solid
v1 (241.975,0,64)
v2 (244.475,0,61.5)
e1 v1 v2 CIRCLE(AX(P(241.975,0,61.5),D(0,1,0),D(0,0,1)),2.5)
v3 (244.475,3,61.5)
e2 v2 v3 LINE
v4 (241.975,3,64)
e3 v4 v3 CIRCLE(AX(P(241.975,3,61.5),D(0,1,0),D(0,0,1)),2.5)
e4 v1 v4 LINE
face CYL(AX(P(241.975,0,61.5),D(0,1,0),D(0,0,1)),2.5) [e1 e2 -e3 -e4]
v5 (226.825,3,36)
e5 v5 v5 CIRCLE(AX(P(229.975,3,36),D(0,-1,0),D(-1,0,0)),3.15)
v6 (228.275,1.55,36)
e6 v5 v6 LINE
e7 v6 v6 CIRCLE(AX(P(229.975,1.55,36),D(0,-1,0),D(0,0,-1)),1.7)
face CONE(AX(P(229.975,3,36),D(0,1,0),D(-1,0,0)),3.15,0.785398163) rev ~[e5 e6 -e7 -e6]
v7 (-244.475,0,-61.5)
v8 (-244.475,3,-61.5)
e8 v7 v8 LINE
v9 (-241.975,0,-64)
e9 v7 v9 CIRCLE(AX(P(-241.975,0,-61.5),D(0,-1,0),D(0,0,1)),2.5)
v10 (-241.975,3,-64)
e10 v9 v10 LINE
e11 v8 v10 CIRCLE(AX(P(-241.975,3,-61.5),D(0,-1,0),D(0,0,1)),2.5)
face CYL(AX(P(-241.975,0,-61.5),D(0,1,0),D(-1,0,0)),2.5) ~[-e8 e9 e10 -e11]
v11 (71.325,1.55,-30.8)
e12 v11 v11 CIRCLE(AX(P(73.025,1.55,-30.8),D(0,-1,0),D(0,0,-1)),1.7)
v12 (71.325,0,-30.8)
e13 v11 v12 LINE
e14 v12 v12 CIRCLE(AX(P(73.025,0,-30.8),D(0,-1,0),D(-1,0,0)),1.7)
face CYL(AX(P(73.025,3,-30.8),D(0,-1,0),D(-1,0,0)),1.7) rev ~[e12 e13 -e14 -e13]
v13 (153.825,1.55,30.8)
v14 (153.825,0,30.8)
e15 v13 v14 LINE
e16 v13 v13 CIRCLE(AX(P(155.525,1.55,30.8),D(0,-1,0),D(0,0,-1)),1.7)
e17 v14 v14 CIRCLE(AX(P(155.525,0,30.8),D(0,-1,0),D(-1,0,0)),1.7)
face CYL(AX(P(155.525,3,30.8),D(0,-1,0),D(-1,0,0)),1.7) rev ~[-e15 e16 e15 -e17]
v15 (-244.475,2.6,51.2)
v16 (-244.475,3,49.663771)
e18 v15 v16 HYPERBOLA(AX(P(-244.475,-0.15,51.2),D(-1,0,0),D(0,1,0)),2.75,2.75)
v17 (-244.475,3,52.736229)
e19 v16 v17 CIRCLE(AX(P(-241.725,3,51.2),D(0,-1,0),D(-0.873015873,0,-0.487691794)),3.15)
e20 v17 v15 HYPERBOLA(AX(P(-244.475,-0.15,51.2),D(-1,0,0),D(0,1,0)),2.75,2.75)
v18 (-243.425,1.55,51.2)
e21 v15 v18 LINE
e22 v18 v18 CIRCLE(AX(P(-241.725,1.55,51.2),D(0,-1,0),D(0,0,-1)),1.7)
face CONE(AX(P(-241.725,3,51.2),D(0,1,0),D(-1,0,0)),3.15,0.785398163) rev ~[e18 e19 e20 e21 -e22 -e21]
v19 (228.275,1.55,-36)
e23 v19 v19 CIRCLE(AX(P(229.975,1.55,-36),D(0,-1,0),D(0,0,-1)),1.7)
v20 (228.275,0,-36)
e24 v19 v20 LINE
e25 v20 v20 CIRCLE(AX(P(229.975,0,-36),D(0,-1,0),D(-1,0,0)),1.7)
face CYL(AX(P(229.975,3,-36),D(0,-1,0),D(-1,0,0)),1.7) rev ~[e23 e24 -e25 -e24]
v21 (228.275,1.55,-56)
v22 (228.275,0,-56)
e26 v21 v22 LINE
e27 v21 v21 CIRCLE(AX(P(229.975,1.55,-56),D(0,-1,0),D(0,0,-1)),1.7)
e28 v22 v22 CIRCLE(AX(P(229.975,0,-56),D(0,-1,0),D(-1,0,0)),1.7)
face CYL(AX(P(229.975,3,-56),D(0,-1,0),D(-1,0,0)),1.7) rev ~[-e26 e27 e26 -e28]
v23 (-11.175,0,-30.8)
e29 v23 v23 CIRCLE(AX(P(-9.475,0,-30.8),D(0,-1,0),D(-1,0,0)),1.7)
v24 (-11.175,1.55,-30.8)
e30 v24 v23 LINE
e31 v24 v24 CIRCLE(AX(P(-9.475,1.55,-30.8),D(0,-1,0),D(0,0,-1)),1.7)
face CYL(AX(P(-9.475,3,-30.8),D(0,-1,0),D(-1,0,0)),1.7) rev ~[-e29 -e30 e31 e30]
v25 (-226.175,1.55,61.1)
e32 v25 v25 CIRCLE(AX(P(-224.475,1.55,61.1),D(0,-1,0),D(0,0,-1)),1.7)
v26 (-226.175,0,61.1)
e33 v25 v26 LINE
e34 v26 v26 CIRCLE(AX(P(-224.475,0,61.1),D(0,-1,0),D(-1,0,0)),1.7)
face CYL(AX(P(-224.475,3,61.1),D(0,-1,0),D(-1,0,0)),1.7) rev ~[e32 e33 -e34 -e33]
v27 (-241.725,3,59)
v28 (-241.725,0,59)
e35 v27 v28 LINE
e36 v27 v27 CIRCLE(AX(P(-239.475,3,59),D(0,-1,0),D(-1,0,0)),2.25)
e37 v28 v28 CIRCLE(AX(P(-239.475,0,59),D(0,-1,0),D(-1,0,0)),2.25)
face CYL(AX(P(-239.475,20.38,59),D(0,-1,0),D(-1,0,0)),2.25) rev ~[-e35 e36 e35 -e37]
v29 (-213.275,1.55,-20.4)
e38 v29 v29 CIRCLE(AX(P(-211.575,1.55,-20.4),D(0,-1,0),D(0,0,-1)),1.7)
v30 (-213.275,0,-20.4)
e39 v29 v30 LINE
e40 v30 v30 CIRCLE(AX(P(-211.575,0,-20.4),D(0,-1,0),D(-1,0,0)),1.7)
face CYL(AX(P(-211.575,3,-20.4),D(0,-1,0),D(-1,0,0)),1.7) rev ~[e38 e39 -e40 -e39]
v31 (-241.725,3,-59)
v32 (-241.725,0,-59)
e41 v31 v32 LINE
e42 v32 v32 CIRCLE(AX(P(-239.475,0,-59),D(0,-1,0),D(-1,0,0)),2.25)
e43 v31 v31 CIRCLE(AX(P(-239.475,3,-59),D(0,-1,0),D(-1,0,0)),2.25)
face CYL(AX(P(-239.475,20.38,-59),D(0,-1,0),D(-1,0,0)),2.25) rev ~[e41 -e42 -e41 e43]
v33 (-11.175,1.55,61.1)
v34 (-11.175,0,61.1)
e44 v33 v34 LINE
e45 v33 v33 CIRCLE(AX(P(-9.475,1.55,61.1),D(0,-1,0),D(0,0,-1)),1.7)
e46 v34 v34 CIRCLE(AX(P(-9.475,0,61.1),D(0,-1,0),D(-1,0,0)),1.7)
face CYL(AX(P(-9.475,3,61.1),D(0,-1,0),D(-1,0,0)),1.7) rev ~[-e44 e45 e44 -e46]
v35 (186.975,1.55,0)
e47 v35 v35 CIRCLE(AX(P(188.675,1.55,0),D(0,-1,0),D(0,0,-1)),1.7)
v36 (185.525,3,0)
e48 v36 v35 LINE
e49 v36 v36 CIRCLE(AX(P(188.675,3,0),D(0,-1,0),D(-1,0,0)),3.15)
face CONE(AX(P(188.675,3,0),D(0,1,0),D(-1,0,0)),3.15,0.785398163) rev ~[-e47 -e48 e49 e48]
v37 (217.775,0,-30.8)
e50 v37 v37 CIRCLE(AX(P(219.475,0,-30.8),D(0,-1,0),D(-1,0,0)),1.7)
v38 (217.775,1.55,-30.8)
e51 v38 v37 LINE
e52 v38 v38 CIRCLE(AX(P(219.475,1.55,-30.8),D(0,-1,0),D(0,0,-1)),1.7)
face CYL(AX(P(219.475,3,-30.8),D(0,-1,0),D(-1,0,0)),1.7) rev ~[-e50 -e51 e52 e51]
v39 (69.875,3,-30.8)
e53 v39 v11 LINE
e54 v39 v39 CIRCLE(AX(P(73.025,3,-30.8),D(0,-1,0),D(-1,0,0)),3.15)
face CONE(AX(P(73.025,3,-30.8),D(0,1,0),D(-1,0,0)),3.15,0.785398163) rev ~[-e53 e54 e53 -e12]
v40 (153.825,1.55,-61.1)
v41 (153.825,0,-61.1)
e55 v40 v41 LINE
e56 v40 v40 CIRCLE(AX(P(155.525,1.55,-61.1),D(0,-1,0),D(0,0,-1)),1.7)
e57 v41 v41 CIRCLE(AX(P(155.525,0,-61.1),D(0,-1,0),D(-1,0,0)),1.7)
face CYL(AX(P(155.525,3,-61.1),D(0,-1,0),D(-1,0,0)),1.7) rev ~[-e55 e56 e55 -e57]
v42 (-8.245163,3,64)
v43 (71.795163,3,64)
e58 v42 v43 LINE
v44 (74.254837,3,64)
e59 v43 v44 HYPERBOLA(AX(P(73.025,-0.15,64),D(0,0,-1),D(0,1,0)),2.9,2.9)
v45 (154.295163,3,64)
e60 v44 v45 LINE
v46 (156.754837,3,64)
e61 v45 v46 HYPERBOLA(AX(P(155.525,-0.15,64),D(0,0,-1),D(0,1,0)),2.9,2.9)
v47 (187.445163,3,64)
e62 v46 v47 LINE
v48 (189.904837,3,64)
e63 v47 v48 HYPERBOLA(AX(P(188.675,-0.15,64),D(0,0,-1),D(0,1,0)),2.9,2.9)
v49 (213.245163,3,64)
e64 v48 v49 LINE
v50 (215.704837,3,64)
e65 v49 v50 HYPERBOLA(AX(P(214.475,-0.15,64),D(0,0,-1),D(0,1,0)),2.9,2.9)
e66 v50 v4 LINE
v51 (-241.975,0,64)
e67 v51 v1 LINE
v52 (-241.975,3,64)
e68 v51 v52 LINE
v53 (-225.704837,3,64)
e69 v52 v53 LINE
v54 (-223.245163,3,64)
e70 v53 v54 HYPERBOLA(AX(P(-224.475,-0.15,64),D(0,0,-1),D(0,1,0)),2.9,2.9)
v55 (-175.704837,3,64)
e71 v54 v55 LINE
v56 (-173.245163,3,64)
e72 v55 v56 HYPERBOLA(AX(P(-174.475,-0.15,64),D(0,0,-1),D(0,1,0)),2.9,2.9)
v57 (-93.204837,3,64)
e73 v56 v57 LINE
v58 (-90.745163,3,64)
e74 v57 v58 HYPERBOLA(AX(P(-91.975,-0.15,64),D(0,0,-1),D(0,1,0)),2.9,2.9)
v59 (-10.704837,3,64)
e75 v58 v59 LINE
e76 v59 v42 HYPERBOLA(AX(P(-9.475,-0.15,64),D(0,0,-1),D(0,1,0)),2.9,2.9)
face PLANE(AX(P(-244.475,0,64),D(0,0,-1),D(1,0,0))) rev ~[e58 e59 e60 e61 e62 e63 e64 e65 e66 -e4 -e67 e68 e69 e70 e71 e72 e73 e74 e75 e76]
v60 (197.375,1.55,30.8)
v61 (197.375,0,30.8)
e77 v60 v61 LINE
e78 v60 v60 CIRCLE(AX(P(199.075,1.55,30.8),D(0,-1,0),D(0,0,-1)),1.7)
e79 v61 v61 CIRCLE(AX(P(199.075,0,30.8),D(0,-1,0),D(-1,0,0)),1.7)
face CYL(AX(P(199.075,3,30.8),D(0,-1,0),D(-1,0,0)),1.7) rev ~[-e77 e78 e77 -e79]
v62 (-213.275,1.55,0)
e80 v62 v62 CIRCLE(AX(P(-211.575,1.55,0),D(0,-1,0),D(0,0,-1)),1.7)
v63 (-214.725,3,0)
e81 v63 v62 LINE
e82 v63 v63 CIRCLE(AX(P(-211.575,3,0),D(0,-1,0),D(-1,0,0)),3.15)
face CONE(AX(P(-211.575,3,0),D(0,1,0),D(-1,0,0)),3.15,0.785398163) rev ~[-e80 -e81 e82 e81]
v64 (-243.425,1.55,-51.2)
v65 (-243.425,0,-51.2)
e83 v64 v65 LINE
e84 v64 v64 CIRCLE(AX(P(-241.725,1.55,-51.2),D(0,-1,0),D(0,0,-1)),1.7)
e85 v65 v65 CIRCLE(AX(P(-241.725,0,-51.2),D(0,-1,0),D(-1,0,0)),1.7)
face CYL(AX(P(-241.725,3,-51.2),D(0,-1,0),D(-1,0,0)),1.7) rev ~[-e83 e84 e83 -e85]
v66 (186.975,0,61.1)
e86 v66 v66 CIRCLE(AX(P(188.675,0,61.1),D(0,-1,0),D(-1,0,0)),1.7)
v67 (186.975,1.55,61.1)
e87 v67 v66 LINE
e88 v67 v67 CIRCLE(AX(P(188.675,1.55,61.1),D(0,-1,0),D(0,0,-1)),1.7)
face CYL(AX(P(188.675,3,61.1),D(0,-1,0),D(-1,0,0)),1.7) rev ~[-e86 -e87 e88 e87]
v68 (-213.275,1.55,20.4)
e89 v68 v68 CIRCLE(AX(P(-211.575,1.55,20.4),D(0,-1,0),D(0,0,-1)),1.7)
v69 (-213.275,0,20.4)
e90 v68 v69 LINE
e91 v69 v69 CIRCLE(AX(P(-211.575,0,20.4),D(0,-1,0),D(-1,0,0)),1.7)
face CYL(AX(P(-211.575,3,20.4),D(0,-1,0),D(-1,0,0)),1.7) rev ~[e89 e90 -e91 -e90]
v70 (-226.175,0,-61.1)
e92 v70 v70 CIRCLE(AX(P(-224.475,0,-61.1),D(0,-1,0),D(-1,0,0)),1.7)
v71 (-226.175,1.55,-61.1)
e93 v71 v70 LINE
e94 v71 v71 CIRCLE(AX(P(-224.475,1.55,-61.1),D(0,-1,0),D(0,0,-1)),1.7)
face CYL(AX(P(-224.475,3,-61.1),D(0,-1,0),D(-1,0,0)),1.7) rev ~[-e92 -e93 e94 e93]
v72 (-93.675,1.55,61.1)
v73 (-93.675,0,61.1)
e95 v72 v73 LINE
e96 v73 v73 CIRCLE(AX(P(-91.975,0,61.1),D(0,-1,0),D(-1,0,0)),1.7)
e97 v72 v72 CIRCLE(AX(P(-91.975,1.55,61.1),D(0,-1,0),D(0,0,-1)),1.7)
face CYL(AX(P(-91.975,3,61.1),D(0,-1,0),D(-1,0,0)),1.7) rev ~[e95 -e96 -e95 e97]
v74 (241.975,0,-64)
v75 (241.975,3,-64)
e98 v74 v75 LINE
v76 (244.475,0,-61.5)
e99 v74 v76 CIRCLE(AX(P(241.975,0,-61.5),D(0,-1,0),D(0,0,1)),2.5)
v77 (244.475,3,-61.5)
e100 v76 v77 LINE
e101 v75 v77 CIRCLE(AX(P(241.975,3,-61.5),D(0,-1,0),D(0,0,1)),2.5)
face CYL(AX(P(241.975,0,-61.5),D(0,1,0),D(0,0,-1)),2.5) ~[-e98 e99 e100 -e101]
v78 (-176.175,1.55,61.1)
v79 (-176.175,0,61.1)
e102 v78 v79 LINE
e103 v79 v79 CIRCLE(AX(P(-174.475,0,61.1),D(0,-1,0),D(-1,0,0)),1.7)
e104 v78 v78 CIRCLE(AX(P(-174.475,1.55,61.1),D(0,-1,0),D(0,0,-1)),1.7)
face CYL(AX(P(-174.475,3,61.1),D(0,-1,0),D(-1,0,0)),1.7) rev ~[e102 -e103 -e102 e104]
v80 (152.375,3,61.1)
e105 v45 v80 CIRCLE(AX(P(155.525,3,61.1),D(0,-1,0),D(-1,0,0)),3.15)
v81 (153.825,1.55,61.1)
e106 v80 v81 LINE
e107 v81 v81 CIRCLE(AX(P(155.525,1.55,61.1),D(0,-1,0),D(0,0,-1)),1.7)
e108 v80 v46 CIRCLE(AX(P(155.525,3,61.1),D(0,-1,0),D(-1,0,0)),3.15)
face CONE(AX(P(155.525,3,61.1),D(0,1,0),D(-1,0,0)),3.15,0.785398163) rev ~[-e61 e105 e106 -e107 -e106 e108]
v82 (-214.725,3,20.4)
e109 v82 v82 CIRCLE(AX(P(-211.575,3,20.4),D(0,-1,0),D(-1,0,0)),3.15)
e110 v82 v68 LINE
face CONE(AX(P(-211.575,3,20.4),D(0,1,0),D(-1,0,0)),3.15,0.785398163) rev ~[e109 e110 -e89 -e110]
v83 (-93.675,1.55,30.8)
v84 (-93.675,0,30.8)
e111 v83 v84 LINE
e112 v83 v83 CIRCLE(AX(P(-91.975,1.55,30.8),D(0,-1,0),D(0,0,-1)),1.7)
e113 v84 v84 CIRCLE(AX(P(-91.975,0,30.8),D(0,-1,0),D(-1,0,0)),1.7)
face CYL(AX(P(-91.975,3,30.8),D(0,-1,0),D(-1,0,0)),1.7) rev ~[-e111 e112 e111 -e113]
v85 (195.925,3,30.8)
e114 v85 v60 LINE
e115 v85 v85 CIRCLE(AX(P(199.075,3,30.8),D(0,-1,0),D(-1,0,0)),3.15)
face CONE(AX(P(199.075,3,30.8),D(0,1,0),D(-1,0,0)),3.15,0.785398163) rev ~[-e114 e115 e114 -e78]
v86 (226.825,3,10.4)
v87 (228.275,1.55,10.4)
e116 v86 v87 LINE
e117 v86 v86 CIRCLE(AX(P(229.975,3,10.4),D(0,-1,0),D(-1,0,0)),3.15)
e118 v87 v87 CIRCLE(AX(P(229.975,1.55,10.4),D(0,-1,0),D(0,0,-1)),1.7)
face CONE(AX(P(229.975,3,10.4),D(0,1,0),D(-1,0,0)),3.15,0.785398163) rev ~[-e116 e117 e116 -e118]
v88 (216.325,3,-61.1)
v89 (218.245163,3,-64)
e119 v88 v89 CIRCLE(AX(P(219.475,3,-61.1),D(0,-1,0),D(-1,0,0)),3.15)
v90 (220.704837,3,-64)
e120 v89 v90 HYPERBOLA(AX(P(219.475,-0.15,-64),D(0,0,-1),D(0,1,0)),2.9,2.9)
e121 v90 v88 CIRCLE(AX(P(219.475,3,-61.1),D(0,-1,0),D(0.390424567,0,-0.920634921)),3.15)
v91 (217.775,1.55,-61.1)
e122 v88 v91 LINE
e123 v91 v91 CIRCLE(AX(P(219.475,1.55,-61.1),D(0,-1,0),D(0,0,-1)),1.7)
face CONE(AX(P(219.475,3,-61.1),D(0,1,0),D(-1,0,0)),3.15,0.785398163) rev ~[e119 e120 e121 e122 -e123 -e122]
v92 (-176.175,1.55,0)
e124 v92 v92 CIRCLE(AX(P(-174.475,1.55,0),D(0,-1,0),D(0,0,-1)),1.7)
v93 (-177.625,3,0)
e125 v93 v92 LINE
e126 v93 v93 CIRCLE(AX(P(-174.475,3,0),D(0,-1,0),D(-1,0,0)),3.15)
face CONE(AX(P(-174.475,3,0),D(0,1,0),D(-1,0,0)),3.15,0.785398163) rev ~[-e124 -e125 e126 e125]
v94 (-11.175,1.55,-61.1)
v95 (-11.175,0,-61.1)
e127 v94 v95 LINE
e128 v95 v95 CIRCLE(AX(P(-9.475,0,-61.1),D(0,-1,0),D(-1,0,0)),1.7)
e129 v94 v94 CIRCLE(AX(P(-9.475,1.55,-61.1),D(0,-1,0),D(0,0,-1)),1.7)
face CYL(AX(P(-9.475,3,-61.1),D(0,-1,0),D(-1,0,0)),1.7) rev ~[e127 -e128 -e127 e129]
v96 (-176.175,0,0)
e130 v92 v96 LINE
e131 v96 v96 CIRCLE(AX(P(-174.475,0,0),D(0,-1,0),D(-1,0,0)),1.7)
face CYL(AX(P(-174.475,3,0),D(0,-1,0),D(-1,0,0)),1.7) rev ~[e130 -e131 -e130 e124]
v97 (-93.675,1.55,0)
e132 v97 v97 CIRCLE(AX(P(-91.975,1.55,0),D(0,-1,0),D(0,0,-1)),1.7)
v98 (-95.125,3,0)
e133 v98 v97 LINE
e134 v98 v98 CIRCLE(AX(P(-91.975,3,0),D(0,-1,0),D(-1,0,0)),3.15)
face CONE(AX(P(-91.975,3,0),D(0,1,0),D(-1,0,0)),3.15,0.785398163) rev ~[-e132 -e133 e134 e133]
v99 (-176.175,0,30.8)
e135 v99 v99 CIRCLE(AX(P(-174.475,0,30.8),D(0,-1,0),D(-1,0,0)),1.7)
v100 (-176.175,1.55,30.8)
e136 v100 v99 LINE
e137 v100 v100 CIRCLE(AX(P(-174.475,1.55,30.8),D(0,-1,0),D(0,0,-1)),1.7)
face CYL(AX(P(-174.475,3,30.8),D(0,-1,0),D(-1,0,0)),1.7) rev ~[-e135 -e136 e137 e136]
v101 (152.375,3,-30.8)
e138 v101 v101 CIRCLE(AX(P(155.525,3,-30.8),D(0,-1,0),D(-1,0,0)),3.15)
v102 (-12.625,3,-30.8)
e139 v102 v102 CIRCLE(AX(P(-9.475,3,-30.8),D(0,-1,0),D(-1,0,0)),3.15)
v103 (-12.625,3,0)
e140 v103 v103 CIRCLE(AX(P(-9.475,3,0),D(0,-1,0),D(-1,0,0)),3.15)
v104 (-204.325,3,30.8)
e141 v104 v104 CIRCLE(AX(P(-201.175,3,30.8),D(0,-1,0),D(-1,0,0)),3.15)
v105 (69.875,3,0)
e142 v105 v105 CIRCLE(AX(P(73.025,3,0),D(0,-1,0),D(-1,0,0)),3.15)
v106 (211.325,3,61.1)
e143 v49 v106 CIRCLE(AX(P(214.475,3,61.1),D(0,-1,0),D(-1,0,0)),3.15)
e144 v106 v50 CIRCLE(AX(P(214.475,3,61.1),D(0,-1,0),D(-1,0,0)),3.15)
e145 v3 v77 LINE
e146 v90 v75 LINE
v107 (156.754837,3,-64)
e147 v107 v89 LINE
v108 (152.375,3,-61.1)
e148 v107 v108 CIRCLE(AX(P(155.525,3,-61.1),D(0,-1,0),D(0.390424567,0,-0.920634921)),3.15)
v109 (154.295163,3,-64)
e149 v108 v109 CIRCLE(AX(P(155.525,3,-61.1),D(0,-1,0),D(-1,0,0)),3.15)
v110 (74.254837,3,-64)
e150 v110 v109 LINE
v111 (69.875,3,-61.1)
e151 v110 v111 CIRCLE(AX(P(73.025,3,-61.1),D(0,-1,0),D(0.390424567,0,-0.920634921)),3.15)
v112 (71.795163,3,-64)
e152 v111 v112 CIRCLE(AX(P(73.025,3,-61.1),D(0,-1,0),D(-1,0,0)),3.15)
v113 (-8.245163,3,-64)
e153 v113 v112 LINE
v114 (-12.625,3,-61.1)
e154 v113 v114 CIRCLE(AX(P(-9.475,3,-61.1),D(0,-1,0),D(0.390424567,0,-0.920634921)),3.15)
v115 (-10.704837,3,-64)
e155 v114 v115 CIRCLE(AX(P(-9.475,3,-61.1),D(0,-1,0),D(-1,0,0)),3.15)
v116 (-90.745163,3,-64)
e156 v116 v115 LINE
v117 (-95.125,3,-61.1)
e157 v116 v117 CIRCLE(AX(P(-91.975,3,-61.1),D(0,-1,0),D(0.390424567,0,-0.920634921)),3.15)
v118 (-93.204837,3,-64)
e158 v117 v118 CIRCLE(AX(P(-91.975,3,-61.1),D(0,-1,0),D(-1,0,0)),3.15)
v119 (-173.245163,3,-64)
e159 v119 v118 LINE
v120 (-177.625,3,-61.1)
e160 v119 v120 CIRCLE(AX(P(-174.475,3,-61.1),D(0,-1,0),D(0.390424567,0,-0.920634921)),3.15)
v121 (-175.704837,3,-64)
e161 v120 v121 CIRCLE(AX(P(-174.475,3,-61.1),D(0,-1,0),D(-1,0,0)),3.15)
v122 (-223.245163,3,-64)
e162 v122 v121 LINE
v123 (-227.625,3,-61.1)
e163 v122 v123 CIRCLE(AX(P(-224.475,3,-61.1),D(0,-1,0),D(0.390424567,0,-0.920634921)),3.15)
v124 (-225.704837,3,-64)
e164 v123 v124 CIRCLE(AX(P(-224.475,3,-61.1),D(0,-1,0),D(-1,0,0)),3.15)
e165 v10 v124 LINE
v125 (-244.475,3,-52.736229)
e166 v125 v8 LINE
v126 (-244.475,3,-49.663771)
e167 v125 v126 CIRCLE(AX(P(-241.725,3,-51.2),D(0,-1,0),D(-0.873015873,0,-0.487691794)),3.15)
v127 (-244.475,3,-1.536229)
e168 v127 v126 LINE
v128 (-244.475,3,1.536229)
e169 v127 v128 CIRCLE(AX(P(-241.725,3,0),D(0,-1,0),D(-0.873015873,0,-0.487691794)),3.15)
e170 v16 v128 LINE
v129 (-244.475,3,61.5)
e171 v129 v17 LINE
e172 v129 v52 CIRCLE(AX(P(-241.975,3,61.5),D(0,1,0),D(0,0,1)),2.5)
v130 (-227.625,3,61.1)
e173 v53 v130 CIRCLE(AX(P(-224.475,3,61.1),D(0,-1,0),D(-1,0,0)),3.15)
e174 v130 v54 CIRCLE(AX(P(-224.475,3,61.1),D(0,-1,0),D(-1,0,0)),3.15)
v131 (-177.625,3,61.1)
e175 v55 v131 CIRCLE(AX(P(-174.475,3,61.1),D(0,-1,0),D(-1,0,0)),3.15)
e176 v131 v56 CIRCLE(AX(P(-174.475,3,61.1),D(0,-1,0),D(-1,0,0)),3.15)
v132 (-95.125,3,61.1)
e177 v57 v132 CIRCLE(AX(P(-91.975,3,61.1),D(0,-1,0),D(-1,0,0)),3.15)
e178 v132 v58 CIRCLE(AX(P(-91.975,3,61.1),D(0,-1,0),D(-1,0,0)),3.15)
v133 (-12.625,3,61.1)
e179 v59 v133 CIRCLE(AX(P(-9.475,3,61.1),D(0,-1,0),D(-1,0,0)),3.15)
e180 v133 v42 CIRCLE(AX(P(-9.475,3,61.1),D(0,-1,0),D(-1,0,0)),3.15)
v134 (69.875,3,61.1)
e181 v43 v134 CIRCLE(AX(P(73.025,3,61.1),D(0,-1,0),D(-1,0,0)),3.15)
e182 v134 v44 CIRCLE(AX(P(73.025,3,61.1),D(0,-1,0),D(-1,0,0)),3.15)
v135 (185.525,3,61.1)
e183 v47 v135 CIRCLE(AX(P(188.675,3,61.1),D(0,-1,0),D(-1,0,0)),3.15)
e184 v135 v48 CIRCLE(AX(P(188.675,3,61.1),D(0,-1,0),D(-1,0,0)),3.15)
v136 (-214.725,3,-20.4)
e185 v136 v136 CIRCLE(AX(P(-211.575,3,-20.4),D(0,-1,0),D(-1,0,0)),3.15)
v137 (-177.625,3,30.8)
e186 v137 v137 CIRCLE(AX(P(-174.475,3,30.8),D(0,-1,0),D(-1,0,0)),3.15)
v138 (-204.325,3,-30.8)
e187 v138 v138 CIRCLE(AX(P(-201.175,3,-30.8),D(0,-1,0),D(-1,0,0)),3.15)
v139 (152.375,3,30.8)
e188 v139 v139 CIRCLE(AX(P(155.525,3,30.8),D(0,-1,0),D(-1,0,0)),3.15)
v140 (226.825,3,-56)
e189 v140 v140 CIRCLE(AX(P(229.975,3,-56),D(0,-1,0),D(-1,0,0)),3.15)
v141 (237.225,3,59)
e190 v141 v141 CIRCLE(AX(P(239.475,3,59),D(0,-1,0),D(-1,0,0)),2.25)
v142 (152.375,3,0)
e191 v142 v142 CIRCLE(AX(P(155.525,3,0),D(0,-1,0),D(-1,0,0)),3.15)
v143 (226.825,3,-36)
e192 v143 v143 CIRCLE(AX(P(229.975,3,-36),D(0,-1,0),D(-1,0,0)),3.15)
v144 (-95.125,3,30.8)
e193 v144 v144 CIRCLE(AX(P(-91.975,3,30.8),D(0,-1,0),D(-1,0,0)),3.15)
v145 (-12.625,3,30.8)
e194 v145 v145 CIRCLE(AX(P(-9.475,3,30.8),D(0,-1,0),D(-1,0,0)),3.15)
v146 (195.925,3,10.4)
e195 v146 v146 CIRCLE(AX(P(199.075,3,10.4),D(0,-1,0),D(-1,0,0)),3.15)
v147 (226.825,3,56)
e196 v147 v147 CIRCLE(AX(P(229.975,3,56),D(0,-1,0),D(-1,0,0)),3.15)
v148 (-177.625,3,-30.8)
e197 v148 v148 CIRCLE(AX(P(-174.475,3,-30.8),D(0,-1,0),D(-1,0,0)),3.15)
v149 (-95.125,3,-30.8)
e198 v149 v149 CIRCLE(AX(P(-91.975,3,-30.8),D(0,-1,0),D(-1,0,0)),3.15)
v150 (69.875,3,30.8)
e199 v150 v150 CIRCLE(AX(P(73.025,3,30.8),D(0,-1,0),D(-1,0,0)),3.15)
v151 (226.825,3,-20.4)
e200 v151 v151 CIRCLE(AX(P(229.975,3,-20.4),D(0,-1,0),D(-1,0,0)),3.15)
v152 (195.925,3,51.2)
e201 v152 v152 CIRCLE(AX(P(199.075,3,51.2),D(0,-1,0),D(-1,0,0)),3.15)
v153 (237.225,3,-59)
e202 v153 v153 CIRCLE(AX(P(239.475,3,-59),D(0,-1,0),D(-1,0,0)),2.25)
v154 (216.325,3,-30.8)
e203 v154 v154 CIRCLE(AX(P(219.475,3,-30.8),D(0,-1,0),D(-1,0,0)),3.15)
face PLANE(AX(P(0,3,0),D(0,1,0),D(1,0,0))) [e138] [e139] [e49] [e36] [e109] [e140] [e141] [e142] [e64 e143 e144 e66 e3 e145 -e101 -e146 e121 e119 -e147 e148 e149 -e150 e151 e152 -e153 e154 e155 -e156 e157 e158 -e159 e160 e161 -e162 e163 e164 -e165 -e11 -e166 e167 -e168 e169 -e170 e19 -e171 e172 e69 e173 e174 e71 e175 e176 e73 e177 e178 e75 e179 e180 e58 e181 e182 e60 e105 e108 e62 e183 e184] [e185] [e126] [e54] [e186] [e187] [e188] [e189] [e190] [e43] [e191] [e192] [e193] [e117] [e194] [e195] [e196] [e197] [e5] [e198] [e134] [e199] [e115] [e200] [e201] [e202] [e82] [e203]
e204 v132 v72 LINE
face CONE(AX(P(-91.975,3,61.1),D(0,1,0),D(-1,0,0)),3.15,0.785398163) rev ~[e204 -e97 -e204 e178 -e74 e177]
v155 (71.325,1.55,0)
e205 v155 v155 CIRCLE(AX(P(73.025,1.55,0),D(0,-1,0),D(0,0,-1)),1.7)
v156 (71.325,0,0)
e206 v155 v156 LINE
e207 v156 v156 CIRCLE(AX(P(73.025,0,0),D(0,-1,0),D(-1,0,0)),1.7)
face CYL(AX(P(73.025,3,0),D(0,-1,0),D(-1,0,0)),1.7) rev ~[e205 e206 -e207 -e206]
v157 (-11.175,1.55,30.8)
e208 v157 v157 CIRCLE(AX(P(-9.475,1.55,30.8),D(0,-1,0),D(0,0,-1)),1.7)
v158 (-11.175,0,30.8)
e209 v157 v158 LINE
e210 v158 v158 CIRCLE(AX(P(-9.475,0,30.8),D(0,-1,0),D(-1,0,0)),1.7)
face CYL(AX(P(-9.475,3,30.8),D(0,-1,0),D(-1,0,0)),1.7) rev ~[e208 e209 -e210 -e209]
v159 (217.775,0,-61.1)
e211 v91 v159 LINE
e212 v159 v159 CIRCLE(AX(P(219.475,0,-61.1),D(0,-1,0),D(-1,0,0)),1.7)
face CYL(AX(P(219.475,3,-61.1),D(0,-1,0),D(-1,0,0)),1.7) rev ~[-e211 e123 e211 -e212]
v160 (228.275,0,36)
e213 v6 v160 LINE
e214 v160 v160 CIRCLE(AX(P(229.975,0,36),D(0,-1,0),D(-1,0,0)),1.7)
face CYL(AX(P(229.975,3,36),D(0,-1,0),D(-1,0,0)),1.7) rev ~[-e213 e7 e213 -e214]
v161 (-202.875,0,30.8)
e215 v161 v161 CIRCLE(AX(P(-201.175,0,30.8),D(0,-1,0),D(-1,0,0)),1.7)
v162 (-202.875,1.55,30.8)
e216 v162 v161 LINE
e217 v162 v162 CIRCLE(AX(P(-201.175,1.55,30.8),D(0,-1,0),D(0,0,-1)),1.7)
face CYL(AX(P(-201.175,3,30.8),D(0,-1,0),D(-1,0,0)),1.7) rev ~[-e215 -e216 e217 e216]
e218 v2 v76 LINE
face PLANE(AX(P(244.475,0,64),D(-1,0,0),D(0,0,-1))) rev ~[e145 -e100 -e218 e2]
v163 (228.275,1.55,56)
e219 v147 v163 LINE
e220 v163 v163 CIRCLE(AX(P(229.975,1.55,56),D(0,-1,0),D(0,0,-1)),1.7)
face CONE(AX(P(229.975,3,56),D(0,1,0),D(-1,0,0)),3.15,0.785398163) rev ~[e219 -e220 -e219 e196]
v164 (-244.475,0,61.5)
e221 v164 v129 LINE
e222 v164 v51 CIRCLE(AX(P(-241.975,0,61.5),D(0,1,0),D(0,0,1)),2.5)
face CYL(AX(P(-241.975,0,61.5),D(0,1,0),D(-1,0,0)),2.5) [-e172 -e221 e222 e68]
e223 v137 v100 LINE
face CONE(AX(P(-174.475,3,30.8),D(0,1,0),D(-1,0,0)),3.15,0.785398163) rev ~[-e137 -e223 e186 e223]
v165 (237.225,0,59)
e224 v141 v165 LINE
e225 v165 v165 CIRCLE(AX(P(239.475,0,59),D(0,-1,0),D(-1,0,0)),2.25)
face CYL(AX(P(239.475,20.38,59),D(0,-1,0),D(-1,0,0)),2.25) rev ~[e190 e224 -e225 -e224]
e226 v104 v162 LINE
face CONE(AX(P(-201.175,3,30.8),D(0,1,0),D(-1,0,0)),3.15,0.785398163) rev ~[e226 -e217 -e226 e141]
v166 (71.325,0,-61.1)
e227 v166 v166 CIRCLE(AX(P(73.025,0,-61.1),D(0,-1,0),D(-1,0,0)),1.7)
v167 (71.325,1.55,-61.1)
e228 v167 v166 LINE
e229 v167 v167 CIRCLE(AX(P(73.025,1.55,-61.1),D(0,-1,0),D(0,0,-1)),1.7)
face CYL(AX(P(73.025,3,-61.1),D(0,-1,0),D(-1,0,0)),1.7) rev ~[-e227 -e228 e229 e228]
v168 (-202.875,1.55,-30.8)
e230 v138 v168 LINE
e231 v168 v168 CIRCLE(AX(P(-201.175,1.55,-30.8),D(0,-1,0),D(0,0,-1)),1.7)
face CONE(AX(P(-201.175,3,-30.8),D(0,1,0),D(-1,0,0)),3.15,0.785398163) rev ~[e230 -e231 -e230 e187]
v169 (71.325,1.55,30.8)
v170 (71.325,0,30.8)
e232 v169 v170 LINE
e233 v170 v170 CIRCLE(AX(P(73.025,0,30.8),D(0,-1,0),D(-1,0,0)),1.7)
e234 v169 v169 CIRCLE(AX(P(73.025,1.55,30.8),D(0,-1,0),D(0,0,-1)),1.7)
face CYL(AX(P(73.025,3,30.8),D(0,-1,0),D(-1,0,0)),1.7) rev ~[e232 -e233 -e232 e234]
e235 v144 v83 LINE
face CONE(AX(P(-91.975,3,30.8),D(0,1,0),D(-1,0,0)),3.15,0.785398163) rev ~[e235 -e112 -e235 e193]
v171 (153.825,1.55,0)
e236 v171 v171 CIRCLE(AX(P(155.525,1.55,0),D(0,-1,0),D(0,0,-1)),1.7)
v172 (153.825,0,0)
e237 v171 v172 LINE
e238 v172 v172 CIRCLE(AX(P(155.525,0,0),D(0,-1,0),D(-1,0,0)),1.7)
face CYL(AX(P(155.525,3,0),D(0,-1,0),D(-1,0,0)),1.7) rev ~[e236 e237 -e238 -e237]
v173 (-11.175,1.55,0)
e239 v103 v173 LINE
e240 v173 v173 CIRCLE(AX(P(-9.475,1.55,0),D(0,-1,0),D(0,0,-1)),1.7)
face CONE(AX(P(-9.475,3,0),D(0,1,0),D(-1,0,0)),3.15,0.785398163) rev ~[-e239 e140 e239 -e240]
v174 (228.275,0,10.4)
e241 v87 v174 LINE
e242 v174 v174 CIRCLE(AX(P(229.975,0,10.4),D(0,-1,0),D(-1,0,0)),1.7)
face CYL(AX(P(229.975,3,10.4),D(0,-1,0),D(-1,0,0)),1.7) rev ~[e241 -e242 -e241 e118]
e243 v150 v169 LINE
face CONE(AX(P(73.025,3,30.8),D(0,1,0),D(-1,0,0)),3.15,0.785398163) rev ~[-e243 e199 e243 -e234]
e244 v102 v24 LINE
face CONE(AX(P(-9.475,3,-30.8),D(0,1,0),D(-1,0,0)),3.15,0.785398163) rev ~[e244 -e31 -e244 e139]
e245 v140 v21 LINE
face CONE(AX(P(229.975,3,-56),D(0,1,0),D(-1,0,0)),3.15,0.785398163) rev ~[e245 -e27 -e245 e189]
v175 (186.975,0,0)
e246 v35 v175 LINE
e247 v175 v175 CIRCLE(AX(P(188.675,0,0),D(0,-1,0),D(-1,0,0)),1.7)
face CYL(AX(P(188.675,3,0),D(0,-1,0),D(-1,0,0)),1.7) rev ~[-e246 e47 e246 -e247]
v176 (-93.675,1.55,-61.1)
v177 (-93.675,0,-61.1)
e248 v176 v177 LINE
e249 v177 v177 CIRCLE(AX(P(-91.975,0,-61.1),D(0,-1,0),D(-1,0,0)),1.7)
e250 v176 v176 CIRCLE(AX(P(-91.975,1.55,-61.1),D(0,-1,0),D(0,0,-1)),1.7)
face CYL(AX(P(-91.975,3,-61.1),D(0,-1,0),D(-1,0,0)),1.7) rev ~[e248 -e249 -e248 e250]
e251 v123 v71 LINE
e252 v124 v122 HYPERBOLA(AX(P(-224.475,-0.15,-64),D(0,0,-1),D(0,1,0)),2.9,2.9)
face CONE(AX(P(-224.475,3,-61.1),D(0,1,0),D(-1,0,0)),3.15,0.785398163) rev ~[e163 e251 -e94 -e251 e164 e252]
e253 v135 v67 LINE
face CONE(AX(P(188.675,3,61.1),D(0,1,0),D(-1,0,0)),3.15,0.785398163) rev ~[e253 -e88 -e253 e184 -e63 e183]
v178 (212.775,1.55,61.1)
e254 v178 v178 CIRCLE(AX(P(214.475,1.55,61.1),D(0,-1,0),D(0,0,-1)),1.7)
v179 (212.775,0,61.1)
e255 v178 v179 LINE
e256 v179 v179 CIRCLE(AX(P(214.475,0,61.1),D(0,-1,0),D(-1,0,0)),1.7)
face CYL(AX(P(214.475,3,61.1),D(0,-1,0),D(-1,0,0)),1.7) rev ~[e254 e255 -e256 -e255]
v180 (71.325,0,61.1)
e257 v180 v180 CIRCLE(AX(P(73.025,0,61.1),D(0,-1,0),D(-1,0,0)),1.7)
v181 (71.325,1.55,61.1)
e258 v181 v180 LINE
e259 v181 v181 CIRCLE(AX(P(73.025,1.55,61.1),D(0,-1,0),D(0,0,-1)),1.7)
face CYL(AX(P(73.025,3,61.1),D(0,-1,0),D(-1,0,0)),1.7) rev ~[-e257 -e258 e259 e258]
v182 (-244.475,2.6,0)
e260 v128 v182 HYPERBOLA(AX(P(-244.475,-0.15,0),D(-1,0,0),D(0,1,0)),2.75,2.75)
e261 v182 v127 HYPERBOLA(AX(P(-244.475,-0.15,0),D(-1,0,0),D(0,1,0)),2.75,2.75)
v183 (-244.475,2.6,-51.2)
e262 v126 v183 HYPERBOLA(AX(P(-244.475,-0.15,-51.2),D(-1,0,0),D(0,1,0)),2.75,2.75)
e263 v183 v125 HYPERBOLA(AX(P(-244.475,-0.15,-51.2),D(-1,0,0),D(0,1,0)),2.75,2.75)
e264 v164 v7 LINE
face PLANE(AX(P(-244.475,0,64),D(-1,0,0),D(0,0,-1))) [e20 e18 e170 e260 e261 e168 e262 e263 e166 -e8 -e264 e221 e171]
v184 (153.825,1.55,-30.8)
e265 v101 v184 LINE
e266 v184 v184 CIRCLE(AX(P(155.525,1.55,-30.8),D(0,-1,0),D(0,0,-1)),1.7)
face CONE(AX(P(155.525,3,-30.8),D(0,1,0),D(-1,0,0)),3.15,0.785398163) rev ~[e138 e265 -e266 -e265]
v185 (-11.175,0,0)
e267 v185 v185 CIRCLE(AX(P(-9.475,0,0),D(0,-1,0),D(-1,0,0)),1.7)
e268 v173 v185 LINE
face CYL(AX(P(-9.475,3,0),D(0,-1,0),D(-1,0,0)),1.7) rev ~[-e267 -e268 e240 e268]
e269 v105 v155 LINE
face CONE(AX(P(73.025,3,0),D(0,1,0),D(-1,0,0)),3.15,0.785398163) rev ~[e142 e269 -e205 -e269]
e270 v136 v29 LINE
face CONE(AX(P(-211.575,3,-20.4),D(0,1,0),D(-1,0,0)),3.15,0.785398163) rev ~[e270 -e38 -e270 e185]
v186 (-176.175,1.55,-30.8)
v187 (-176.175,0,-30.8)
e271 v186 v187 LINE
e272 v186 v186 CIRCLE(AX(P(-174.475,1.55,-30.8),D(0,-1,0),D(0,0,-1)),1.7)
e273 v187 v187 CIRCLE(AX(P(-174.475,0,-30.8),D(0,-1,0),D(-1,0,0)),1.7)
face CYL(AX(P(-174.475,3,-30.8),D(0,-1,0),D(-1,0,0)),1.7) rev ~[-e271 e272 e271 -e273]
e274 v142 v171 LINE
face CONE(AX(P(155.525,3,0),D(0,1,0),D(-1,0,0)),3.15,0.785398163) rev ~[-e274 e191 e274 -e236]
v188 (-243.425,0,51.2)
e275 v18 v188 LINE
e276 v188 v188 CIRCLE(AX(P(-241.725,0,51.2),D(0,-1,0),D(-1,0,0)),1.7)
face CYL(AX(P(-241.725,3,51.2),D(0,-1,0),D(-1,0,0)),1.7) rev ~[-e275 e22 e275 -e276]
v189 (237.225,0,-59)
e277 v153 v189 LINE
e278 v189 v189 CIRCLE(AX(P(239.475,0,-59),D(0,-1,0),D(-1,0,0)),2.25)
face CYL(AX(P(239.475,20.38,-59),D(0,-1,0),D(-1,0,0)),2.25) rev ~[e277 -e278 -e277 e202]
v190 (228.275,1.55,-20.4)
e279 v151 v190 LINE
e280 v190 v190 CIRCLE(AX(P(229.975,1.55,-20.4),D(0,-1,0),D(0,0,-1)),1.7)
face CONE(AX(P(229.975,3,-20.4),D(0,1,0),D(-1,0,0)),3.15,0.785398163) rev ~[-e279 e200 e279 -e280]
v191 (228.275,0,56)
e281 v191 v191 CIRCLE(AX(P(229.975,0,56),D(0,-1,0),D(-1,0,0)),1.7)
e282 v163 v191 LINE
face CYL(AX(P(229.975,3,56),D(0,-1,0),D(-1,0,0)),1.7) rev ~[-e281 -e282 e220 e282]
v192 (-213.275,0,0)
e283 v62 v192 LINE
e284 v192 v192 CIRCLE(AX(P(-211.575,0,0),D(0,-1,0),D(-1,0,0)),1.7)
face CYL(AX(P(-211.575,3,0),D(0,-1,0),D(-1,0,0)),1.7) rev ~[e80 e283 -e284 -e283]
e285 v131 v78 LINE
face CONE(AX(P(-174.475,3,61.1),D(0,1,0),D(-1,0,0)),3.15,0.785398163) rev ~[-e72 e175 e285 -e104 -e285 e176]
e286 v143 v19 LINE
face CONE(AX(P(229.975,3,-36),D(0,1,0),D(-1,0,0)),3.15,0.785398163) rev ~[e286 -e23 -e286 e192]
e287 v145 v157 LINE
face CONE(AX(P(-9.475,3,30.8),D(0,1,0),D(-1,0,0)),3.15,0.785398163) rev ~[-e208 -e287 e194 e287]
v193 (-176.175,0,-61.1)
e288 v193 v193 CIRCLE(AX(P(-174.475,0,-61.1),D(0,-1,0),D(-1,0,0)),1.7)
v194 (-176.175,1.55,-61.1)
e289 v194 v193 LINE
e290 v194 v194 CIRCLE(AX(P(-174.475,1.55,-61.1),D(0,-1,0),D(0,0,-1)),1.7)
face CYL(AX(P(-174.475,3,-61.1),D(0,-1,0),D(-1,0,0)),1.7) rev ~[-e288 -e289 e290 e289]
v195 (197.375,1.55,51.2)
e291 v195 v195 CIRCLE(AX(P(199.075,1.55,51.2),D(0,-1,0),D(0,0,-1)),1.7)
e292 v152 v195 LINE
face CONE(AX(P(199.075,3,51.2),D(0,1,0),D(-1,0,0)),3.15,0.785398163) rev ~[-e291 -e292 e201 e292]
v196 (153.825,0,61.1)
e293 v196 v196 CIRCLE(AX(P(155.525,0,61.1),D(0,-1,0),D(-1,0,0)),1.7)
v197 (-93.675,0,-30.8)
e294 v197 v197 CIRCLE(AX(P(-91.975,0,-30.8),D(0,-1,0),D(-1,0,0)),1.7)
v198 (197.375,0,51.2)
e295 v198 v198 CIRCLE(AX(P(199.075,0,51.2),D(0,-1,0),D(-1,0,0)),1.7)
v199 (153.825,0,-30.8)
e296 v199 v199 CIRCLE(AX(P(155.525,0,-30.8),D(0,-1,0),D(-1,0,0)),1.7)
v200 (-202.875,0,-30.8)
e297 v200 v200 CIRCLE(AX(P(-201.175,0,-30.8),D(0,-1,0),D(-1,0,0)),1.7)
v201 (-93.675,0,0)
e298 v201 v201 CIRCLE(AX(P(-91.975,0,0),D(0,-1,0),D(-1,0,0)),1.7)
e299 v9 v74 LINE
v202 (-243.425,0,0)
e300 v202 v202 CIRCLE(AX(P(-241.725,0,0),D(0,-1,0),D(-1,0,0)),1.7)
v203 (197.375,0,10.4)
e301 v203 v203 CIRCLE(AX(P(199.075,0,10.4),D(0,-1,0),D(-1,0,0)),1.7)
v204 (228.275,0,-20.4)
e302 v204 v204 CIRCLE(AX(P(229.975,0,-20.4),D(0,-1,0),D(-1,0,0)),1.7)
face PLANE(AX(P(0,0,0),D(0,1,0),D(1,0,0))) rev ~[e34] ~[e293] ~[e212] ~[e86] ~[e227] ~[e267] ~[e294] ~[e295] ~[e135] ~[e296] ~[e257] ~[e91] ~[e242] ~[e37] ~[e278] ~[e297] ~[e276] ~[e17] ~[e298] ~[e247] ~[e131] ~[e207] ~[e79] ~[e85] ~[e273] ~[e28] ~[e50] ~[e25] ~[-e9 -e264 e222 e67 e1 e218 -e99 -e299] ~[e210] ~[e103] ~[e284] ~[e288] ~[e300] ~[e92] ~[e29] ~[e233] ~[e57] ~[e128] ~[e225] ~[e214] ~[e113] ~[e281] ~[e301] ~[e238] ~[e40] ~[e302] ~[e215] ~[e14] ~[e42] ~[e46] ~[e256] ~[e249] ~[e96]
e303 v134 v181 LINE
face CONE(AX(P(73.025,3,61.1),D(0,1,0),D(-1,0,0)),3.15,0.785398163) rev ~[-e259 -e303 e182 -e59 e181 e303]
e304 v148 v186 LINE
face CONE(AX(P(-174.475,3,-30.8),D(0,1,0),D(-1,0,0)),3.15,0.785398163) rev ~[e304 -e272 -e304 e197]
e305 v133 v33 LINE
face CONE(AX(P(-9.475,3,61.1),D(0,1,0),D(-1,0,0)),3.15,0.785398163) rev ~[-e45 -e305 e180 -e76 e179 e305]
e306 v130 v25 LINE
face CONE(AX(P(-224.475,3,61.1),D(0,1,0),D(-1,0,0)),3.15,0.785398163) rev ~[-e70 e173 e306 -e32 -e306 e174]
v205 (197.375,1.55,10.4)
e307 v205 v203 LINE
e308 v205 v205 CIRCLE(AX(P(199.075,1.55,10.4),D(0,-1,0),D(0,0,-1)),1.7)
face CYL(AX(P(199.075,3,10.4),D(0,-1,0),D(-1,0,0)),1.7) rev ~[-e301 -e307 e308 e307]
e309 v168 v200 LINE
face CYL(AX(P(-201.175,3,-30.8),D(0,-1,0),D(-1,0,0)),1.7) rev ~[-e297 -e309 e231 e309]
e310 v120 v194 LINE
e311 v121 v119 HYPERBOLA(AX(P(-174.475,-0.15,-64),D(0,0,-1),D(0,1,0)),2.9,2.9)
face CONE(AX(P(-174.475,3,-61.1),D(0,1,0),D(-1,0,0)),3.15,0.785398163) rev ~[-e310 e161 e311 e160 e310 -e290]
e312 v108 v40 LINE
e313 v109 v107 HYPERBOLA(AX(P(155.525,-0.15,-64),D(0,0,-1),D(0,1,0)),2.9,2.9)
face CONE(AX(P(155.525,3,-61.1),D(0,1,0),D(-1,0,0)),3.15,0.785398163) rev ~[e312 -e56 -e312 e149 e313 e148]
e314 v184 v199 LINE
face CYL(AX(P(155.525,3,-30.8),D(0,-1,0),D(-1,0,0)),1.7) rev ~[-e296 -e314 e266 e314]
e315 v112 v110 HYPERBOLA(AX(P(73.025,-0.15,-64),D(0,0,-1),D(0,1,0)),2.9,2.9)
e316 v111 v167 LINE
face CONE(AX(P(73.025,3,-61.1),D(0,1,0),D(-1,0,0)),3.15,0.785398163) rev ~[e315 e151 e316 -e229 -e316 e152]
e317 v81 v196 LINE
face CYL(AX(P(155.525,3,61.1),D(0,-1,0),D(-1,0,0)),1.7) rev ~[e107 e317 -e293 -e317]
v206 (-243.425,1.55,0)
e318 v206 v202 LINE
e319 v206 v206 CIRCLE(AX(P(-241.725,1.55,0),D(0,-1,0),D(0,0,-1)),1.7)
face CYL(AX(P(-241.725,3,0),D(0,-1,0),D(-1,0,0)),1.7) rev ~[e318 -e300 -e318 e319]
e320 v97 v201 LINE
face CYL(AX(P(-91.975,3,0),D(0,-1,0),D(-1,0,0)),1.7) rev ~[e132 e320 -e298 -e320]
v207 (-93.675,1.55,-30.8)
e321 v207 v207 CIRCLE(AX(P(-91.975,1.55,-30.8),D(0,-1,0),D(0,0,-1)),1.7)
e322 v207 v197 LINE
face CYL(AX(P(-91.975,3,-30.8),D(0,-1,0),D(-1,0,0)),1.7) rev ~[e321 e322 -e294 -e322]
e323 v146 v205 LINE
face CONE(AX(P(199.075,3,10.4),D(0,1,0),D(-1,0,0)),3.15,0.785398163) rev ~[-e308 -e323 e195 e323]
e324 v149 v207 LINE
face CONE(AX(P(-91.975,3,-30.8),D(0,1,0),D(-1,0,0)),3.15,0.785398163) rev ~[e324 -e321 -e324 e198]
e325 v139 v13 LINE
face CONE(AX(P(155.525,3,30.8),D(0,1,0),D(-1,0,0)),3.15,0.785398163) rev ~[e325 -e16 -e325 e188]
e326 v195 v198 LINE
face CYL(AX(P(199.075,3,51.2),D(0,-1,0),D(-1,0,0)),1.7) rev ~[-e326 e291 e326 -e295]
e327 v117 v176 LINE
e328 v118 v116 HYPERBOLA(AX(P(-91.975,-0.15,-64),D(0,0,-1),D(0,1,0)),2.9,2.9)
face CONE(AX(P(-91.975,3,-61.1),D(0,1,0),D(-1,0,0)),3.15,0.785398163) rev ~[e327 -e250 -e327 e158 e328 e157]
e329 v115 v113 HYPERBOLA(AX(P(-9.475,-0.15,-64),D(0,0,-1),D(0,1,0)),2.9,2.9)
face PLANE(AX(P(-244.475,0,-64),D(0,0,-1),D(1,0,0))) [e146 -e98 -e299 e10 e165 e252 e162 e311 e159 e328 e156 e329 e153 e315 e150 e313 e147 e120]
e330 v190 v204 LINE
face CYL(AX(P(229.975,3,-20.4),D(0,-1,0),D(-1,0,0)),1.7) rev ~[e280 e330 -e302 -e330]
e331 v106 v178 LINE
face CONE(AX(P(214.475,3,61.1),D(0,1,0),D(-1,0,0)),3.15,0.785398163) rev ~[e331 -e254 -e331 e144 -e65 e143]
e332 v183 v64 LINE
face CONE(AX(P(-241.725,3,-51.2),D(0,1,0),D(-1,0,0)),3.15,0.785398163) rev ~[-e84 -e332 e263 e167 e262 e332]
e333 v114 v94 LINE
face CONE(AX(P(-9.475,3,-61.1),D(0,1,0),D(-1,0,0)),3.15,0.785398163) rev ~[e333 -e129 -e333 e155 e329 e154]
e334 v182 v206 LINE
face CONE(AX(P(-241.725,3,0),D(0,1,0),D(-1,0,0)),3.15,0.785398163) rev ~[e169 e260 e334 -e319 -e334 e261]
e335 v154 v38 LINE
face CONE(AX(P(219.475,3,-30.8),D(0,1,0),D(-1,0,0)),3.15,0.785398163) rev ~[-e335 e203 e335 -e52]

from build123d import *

# Parameters (mm, degrees)
SKETCH1_W                                       = 488.95
SKETCH1_H                                       = 128
BOSS_EXTRUDE1_DEPTH                             = 3
M4_CLEARANCE_HOLE1_D                            = 4.5
M4_CLEARANCE_HOLE1_DEPTH                        = 17.38
M4_CLEARANCE_HOLE1_TIP                          = 1.351936393
FILLET1_R                                       = 2.5
CSK_FOR_M3_FLAT_HEAD_MACHINE_SCREW1_D           = 3.4
CSK_FOR_M3_FLAT_HEAD_MACHINE_SCREW1_DEPTH       = 10
CSK_FOR_M3_FLAT_HEAD_MACHINE_SCREW1_CSINK_D     = 6.3
CSK_FOR_M3_FLAT_HEAD_MACHINE_SCREW1_CSINK_ANGLE = 90
CSK_FOR_M3_FLAT_HEAD_MACHINE_SCREW1_TIP         = 1.021463052


with BuildPart() as part:
    # Sketch1 → Boss-Extrude1 (new body)
    with BuildSketch(Plane(origin=(0, 0, 0), x_dir=(1, 0, 0), z_dir=(0, 1, 0))):
        Rectangle(SKETCH1_W, SKETCH1_H)
    extrude(amount=BOSS_EXTRUDE1_DEPTH)

    # M4 Clearance Hole1
    with Locations(Plane(origin=(0, 3, 0), x_dir=(1, 0, 0), z_dir=(0, 1, 0))):
        with Locations((-239.475, 59), (-239.475, -59), (239.475, -59), (239.475, 59)):
            Hole(M4_CLEARANCE_HOLE1_D / 2, depth=M4_CLEARANCE_HOLE1_DEPTH)
            with Locations((0, 0, -(M4_CLEARANCE_HOLE1_DEPTH + M4_CLEARANCE_HOLE1_TIP / 2))):  # 118° drill point
                Cone(0, M4_CLEARANCE_HOLE1_D / 2, M4_CLEARANCE_HOLE1_TIP, mode=Mode.SUBTRACT)

    # Fillet1
    fillet1_edges = [part.edges().sort_by_distance(p)[0] for p in [
        (244.475, 1.5, 64),
        (-244.475, 1.5, 64),
        (-244.475, 1.5, -64),
        (244.475, 1.5, -64),
    ]]
    fillet(fillet1_edges, radius=FILLET1_R)

    # CSK for M3 Flat Head Machine Screw1
    with Locations(Plane(origin=(0, 3, 0), x_dir=(1, 0, 0), z_dir=(0, 1, 0))):
        with Locations((229.975, -56), (229.975, -36), (229.975, -10.4), (229.975, 20.4), (219.475, 30.8), (229.975, 56), (155.525, 61.1), (188.675, -61.1), (199.075, -51.2), (199.075, -30.8), (229.975, 36), (219.475, 61.1), (155.525, 30.8), (73.025, 30.8), (73.025, 61.1), (-9.475, 30.8), (-9.475, 61.1), (-91.975, 61.1), (-91.975, 30.8), (214.475, -61.1), (155.525, -61.1), (155.525, -30.8), (155.525, 0), (188.675, 0), (199.075, -10.4), (73.025, -30.8), (73.025, -61.1), (73.025, 0), (-91.975, -30.8), (-91.975, 0), (-91.975, -61.1), (-9.475, 0), (-9.475, -30.8), (-9.475, -61.1), (-201.175, 30.8), (-174.475, 30.8), (-174.475, 0), (-174.475, -30.8), (-174.475, -61.1), (-201.175, -30.8), (-211.575, -20.4), (-211.575, 0), (-211.575, 20.4), (-241.725, 51.2), (-241.725, 0), (-241.725, -51.2), (-224.475, -61.1), (-174.475, 61.1), (-224.475, 61.1)):
            CounterSinkHole(CSK_FOR_M3_FLAT_HEAD_MACHINE_SCREW1_D / 2, CSK_FOR_M3_FLAT_HEAD_MACHINE_SCREW1_CSINK_D / 2, depth=CSK_FOR_M3_FLAT_HEAD_MACHINE_SCREW1_DEPTH, counter_sink_angle=CSK_FOR_M3_FLAT_HEAD_MACHINE_SCREW1_CSINK_ANGLE)
            with Locations((0, 0, -(CSK_FOR_M3_FLAT_HEAD_MACHINE_SCREW1_DEPTH + CSK_FOR_M3_FLAT_HEAD_MACHINE_SCREW1_TIP / 2))):  # 118° drill point
                Cone(0, CSK_FOR_M3_FLAT_HEAD_MACHINE_SCREW1_D / 2, CSK_FOR_M3_FLAT_HEAD_MACHINE_SCREW1_TIP, mode=Mode.SUBTRACT)


solid = part.part
